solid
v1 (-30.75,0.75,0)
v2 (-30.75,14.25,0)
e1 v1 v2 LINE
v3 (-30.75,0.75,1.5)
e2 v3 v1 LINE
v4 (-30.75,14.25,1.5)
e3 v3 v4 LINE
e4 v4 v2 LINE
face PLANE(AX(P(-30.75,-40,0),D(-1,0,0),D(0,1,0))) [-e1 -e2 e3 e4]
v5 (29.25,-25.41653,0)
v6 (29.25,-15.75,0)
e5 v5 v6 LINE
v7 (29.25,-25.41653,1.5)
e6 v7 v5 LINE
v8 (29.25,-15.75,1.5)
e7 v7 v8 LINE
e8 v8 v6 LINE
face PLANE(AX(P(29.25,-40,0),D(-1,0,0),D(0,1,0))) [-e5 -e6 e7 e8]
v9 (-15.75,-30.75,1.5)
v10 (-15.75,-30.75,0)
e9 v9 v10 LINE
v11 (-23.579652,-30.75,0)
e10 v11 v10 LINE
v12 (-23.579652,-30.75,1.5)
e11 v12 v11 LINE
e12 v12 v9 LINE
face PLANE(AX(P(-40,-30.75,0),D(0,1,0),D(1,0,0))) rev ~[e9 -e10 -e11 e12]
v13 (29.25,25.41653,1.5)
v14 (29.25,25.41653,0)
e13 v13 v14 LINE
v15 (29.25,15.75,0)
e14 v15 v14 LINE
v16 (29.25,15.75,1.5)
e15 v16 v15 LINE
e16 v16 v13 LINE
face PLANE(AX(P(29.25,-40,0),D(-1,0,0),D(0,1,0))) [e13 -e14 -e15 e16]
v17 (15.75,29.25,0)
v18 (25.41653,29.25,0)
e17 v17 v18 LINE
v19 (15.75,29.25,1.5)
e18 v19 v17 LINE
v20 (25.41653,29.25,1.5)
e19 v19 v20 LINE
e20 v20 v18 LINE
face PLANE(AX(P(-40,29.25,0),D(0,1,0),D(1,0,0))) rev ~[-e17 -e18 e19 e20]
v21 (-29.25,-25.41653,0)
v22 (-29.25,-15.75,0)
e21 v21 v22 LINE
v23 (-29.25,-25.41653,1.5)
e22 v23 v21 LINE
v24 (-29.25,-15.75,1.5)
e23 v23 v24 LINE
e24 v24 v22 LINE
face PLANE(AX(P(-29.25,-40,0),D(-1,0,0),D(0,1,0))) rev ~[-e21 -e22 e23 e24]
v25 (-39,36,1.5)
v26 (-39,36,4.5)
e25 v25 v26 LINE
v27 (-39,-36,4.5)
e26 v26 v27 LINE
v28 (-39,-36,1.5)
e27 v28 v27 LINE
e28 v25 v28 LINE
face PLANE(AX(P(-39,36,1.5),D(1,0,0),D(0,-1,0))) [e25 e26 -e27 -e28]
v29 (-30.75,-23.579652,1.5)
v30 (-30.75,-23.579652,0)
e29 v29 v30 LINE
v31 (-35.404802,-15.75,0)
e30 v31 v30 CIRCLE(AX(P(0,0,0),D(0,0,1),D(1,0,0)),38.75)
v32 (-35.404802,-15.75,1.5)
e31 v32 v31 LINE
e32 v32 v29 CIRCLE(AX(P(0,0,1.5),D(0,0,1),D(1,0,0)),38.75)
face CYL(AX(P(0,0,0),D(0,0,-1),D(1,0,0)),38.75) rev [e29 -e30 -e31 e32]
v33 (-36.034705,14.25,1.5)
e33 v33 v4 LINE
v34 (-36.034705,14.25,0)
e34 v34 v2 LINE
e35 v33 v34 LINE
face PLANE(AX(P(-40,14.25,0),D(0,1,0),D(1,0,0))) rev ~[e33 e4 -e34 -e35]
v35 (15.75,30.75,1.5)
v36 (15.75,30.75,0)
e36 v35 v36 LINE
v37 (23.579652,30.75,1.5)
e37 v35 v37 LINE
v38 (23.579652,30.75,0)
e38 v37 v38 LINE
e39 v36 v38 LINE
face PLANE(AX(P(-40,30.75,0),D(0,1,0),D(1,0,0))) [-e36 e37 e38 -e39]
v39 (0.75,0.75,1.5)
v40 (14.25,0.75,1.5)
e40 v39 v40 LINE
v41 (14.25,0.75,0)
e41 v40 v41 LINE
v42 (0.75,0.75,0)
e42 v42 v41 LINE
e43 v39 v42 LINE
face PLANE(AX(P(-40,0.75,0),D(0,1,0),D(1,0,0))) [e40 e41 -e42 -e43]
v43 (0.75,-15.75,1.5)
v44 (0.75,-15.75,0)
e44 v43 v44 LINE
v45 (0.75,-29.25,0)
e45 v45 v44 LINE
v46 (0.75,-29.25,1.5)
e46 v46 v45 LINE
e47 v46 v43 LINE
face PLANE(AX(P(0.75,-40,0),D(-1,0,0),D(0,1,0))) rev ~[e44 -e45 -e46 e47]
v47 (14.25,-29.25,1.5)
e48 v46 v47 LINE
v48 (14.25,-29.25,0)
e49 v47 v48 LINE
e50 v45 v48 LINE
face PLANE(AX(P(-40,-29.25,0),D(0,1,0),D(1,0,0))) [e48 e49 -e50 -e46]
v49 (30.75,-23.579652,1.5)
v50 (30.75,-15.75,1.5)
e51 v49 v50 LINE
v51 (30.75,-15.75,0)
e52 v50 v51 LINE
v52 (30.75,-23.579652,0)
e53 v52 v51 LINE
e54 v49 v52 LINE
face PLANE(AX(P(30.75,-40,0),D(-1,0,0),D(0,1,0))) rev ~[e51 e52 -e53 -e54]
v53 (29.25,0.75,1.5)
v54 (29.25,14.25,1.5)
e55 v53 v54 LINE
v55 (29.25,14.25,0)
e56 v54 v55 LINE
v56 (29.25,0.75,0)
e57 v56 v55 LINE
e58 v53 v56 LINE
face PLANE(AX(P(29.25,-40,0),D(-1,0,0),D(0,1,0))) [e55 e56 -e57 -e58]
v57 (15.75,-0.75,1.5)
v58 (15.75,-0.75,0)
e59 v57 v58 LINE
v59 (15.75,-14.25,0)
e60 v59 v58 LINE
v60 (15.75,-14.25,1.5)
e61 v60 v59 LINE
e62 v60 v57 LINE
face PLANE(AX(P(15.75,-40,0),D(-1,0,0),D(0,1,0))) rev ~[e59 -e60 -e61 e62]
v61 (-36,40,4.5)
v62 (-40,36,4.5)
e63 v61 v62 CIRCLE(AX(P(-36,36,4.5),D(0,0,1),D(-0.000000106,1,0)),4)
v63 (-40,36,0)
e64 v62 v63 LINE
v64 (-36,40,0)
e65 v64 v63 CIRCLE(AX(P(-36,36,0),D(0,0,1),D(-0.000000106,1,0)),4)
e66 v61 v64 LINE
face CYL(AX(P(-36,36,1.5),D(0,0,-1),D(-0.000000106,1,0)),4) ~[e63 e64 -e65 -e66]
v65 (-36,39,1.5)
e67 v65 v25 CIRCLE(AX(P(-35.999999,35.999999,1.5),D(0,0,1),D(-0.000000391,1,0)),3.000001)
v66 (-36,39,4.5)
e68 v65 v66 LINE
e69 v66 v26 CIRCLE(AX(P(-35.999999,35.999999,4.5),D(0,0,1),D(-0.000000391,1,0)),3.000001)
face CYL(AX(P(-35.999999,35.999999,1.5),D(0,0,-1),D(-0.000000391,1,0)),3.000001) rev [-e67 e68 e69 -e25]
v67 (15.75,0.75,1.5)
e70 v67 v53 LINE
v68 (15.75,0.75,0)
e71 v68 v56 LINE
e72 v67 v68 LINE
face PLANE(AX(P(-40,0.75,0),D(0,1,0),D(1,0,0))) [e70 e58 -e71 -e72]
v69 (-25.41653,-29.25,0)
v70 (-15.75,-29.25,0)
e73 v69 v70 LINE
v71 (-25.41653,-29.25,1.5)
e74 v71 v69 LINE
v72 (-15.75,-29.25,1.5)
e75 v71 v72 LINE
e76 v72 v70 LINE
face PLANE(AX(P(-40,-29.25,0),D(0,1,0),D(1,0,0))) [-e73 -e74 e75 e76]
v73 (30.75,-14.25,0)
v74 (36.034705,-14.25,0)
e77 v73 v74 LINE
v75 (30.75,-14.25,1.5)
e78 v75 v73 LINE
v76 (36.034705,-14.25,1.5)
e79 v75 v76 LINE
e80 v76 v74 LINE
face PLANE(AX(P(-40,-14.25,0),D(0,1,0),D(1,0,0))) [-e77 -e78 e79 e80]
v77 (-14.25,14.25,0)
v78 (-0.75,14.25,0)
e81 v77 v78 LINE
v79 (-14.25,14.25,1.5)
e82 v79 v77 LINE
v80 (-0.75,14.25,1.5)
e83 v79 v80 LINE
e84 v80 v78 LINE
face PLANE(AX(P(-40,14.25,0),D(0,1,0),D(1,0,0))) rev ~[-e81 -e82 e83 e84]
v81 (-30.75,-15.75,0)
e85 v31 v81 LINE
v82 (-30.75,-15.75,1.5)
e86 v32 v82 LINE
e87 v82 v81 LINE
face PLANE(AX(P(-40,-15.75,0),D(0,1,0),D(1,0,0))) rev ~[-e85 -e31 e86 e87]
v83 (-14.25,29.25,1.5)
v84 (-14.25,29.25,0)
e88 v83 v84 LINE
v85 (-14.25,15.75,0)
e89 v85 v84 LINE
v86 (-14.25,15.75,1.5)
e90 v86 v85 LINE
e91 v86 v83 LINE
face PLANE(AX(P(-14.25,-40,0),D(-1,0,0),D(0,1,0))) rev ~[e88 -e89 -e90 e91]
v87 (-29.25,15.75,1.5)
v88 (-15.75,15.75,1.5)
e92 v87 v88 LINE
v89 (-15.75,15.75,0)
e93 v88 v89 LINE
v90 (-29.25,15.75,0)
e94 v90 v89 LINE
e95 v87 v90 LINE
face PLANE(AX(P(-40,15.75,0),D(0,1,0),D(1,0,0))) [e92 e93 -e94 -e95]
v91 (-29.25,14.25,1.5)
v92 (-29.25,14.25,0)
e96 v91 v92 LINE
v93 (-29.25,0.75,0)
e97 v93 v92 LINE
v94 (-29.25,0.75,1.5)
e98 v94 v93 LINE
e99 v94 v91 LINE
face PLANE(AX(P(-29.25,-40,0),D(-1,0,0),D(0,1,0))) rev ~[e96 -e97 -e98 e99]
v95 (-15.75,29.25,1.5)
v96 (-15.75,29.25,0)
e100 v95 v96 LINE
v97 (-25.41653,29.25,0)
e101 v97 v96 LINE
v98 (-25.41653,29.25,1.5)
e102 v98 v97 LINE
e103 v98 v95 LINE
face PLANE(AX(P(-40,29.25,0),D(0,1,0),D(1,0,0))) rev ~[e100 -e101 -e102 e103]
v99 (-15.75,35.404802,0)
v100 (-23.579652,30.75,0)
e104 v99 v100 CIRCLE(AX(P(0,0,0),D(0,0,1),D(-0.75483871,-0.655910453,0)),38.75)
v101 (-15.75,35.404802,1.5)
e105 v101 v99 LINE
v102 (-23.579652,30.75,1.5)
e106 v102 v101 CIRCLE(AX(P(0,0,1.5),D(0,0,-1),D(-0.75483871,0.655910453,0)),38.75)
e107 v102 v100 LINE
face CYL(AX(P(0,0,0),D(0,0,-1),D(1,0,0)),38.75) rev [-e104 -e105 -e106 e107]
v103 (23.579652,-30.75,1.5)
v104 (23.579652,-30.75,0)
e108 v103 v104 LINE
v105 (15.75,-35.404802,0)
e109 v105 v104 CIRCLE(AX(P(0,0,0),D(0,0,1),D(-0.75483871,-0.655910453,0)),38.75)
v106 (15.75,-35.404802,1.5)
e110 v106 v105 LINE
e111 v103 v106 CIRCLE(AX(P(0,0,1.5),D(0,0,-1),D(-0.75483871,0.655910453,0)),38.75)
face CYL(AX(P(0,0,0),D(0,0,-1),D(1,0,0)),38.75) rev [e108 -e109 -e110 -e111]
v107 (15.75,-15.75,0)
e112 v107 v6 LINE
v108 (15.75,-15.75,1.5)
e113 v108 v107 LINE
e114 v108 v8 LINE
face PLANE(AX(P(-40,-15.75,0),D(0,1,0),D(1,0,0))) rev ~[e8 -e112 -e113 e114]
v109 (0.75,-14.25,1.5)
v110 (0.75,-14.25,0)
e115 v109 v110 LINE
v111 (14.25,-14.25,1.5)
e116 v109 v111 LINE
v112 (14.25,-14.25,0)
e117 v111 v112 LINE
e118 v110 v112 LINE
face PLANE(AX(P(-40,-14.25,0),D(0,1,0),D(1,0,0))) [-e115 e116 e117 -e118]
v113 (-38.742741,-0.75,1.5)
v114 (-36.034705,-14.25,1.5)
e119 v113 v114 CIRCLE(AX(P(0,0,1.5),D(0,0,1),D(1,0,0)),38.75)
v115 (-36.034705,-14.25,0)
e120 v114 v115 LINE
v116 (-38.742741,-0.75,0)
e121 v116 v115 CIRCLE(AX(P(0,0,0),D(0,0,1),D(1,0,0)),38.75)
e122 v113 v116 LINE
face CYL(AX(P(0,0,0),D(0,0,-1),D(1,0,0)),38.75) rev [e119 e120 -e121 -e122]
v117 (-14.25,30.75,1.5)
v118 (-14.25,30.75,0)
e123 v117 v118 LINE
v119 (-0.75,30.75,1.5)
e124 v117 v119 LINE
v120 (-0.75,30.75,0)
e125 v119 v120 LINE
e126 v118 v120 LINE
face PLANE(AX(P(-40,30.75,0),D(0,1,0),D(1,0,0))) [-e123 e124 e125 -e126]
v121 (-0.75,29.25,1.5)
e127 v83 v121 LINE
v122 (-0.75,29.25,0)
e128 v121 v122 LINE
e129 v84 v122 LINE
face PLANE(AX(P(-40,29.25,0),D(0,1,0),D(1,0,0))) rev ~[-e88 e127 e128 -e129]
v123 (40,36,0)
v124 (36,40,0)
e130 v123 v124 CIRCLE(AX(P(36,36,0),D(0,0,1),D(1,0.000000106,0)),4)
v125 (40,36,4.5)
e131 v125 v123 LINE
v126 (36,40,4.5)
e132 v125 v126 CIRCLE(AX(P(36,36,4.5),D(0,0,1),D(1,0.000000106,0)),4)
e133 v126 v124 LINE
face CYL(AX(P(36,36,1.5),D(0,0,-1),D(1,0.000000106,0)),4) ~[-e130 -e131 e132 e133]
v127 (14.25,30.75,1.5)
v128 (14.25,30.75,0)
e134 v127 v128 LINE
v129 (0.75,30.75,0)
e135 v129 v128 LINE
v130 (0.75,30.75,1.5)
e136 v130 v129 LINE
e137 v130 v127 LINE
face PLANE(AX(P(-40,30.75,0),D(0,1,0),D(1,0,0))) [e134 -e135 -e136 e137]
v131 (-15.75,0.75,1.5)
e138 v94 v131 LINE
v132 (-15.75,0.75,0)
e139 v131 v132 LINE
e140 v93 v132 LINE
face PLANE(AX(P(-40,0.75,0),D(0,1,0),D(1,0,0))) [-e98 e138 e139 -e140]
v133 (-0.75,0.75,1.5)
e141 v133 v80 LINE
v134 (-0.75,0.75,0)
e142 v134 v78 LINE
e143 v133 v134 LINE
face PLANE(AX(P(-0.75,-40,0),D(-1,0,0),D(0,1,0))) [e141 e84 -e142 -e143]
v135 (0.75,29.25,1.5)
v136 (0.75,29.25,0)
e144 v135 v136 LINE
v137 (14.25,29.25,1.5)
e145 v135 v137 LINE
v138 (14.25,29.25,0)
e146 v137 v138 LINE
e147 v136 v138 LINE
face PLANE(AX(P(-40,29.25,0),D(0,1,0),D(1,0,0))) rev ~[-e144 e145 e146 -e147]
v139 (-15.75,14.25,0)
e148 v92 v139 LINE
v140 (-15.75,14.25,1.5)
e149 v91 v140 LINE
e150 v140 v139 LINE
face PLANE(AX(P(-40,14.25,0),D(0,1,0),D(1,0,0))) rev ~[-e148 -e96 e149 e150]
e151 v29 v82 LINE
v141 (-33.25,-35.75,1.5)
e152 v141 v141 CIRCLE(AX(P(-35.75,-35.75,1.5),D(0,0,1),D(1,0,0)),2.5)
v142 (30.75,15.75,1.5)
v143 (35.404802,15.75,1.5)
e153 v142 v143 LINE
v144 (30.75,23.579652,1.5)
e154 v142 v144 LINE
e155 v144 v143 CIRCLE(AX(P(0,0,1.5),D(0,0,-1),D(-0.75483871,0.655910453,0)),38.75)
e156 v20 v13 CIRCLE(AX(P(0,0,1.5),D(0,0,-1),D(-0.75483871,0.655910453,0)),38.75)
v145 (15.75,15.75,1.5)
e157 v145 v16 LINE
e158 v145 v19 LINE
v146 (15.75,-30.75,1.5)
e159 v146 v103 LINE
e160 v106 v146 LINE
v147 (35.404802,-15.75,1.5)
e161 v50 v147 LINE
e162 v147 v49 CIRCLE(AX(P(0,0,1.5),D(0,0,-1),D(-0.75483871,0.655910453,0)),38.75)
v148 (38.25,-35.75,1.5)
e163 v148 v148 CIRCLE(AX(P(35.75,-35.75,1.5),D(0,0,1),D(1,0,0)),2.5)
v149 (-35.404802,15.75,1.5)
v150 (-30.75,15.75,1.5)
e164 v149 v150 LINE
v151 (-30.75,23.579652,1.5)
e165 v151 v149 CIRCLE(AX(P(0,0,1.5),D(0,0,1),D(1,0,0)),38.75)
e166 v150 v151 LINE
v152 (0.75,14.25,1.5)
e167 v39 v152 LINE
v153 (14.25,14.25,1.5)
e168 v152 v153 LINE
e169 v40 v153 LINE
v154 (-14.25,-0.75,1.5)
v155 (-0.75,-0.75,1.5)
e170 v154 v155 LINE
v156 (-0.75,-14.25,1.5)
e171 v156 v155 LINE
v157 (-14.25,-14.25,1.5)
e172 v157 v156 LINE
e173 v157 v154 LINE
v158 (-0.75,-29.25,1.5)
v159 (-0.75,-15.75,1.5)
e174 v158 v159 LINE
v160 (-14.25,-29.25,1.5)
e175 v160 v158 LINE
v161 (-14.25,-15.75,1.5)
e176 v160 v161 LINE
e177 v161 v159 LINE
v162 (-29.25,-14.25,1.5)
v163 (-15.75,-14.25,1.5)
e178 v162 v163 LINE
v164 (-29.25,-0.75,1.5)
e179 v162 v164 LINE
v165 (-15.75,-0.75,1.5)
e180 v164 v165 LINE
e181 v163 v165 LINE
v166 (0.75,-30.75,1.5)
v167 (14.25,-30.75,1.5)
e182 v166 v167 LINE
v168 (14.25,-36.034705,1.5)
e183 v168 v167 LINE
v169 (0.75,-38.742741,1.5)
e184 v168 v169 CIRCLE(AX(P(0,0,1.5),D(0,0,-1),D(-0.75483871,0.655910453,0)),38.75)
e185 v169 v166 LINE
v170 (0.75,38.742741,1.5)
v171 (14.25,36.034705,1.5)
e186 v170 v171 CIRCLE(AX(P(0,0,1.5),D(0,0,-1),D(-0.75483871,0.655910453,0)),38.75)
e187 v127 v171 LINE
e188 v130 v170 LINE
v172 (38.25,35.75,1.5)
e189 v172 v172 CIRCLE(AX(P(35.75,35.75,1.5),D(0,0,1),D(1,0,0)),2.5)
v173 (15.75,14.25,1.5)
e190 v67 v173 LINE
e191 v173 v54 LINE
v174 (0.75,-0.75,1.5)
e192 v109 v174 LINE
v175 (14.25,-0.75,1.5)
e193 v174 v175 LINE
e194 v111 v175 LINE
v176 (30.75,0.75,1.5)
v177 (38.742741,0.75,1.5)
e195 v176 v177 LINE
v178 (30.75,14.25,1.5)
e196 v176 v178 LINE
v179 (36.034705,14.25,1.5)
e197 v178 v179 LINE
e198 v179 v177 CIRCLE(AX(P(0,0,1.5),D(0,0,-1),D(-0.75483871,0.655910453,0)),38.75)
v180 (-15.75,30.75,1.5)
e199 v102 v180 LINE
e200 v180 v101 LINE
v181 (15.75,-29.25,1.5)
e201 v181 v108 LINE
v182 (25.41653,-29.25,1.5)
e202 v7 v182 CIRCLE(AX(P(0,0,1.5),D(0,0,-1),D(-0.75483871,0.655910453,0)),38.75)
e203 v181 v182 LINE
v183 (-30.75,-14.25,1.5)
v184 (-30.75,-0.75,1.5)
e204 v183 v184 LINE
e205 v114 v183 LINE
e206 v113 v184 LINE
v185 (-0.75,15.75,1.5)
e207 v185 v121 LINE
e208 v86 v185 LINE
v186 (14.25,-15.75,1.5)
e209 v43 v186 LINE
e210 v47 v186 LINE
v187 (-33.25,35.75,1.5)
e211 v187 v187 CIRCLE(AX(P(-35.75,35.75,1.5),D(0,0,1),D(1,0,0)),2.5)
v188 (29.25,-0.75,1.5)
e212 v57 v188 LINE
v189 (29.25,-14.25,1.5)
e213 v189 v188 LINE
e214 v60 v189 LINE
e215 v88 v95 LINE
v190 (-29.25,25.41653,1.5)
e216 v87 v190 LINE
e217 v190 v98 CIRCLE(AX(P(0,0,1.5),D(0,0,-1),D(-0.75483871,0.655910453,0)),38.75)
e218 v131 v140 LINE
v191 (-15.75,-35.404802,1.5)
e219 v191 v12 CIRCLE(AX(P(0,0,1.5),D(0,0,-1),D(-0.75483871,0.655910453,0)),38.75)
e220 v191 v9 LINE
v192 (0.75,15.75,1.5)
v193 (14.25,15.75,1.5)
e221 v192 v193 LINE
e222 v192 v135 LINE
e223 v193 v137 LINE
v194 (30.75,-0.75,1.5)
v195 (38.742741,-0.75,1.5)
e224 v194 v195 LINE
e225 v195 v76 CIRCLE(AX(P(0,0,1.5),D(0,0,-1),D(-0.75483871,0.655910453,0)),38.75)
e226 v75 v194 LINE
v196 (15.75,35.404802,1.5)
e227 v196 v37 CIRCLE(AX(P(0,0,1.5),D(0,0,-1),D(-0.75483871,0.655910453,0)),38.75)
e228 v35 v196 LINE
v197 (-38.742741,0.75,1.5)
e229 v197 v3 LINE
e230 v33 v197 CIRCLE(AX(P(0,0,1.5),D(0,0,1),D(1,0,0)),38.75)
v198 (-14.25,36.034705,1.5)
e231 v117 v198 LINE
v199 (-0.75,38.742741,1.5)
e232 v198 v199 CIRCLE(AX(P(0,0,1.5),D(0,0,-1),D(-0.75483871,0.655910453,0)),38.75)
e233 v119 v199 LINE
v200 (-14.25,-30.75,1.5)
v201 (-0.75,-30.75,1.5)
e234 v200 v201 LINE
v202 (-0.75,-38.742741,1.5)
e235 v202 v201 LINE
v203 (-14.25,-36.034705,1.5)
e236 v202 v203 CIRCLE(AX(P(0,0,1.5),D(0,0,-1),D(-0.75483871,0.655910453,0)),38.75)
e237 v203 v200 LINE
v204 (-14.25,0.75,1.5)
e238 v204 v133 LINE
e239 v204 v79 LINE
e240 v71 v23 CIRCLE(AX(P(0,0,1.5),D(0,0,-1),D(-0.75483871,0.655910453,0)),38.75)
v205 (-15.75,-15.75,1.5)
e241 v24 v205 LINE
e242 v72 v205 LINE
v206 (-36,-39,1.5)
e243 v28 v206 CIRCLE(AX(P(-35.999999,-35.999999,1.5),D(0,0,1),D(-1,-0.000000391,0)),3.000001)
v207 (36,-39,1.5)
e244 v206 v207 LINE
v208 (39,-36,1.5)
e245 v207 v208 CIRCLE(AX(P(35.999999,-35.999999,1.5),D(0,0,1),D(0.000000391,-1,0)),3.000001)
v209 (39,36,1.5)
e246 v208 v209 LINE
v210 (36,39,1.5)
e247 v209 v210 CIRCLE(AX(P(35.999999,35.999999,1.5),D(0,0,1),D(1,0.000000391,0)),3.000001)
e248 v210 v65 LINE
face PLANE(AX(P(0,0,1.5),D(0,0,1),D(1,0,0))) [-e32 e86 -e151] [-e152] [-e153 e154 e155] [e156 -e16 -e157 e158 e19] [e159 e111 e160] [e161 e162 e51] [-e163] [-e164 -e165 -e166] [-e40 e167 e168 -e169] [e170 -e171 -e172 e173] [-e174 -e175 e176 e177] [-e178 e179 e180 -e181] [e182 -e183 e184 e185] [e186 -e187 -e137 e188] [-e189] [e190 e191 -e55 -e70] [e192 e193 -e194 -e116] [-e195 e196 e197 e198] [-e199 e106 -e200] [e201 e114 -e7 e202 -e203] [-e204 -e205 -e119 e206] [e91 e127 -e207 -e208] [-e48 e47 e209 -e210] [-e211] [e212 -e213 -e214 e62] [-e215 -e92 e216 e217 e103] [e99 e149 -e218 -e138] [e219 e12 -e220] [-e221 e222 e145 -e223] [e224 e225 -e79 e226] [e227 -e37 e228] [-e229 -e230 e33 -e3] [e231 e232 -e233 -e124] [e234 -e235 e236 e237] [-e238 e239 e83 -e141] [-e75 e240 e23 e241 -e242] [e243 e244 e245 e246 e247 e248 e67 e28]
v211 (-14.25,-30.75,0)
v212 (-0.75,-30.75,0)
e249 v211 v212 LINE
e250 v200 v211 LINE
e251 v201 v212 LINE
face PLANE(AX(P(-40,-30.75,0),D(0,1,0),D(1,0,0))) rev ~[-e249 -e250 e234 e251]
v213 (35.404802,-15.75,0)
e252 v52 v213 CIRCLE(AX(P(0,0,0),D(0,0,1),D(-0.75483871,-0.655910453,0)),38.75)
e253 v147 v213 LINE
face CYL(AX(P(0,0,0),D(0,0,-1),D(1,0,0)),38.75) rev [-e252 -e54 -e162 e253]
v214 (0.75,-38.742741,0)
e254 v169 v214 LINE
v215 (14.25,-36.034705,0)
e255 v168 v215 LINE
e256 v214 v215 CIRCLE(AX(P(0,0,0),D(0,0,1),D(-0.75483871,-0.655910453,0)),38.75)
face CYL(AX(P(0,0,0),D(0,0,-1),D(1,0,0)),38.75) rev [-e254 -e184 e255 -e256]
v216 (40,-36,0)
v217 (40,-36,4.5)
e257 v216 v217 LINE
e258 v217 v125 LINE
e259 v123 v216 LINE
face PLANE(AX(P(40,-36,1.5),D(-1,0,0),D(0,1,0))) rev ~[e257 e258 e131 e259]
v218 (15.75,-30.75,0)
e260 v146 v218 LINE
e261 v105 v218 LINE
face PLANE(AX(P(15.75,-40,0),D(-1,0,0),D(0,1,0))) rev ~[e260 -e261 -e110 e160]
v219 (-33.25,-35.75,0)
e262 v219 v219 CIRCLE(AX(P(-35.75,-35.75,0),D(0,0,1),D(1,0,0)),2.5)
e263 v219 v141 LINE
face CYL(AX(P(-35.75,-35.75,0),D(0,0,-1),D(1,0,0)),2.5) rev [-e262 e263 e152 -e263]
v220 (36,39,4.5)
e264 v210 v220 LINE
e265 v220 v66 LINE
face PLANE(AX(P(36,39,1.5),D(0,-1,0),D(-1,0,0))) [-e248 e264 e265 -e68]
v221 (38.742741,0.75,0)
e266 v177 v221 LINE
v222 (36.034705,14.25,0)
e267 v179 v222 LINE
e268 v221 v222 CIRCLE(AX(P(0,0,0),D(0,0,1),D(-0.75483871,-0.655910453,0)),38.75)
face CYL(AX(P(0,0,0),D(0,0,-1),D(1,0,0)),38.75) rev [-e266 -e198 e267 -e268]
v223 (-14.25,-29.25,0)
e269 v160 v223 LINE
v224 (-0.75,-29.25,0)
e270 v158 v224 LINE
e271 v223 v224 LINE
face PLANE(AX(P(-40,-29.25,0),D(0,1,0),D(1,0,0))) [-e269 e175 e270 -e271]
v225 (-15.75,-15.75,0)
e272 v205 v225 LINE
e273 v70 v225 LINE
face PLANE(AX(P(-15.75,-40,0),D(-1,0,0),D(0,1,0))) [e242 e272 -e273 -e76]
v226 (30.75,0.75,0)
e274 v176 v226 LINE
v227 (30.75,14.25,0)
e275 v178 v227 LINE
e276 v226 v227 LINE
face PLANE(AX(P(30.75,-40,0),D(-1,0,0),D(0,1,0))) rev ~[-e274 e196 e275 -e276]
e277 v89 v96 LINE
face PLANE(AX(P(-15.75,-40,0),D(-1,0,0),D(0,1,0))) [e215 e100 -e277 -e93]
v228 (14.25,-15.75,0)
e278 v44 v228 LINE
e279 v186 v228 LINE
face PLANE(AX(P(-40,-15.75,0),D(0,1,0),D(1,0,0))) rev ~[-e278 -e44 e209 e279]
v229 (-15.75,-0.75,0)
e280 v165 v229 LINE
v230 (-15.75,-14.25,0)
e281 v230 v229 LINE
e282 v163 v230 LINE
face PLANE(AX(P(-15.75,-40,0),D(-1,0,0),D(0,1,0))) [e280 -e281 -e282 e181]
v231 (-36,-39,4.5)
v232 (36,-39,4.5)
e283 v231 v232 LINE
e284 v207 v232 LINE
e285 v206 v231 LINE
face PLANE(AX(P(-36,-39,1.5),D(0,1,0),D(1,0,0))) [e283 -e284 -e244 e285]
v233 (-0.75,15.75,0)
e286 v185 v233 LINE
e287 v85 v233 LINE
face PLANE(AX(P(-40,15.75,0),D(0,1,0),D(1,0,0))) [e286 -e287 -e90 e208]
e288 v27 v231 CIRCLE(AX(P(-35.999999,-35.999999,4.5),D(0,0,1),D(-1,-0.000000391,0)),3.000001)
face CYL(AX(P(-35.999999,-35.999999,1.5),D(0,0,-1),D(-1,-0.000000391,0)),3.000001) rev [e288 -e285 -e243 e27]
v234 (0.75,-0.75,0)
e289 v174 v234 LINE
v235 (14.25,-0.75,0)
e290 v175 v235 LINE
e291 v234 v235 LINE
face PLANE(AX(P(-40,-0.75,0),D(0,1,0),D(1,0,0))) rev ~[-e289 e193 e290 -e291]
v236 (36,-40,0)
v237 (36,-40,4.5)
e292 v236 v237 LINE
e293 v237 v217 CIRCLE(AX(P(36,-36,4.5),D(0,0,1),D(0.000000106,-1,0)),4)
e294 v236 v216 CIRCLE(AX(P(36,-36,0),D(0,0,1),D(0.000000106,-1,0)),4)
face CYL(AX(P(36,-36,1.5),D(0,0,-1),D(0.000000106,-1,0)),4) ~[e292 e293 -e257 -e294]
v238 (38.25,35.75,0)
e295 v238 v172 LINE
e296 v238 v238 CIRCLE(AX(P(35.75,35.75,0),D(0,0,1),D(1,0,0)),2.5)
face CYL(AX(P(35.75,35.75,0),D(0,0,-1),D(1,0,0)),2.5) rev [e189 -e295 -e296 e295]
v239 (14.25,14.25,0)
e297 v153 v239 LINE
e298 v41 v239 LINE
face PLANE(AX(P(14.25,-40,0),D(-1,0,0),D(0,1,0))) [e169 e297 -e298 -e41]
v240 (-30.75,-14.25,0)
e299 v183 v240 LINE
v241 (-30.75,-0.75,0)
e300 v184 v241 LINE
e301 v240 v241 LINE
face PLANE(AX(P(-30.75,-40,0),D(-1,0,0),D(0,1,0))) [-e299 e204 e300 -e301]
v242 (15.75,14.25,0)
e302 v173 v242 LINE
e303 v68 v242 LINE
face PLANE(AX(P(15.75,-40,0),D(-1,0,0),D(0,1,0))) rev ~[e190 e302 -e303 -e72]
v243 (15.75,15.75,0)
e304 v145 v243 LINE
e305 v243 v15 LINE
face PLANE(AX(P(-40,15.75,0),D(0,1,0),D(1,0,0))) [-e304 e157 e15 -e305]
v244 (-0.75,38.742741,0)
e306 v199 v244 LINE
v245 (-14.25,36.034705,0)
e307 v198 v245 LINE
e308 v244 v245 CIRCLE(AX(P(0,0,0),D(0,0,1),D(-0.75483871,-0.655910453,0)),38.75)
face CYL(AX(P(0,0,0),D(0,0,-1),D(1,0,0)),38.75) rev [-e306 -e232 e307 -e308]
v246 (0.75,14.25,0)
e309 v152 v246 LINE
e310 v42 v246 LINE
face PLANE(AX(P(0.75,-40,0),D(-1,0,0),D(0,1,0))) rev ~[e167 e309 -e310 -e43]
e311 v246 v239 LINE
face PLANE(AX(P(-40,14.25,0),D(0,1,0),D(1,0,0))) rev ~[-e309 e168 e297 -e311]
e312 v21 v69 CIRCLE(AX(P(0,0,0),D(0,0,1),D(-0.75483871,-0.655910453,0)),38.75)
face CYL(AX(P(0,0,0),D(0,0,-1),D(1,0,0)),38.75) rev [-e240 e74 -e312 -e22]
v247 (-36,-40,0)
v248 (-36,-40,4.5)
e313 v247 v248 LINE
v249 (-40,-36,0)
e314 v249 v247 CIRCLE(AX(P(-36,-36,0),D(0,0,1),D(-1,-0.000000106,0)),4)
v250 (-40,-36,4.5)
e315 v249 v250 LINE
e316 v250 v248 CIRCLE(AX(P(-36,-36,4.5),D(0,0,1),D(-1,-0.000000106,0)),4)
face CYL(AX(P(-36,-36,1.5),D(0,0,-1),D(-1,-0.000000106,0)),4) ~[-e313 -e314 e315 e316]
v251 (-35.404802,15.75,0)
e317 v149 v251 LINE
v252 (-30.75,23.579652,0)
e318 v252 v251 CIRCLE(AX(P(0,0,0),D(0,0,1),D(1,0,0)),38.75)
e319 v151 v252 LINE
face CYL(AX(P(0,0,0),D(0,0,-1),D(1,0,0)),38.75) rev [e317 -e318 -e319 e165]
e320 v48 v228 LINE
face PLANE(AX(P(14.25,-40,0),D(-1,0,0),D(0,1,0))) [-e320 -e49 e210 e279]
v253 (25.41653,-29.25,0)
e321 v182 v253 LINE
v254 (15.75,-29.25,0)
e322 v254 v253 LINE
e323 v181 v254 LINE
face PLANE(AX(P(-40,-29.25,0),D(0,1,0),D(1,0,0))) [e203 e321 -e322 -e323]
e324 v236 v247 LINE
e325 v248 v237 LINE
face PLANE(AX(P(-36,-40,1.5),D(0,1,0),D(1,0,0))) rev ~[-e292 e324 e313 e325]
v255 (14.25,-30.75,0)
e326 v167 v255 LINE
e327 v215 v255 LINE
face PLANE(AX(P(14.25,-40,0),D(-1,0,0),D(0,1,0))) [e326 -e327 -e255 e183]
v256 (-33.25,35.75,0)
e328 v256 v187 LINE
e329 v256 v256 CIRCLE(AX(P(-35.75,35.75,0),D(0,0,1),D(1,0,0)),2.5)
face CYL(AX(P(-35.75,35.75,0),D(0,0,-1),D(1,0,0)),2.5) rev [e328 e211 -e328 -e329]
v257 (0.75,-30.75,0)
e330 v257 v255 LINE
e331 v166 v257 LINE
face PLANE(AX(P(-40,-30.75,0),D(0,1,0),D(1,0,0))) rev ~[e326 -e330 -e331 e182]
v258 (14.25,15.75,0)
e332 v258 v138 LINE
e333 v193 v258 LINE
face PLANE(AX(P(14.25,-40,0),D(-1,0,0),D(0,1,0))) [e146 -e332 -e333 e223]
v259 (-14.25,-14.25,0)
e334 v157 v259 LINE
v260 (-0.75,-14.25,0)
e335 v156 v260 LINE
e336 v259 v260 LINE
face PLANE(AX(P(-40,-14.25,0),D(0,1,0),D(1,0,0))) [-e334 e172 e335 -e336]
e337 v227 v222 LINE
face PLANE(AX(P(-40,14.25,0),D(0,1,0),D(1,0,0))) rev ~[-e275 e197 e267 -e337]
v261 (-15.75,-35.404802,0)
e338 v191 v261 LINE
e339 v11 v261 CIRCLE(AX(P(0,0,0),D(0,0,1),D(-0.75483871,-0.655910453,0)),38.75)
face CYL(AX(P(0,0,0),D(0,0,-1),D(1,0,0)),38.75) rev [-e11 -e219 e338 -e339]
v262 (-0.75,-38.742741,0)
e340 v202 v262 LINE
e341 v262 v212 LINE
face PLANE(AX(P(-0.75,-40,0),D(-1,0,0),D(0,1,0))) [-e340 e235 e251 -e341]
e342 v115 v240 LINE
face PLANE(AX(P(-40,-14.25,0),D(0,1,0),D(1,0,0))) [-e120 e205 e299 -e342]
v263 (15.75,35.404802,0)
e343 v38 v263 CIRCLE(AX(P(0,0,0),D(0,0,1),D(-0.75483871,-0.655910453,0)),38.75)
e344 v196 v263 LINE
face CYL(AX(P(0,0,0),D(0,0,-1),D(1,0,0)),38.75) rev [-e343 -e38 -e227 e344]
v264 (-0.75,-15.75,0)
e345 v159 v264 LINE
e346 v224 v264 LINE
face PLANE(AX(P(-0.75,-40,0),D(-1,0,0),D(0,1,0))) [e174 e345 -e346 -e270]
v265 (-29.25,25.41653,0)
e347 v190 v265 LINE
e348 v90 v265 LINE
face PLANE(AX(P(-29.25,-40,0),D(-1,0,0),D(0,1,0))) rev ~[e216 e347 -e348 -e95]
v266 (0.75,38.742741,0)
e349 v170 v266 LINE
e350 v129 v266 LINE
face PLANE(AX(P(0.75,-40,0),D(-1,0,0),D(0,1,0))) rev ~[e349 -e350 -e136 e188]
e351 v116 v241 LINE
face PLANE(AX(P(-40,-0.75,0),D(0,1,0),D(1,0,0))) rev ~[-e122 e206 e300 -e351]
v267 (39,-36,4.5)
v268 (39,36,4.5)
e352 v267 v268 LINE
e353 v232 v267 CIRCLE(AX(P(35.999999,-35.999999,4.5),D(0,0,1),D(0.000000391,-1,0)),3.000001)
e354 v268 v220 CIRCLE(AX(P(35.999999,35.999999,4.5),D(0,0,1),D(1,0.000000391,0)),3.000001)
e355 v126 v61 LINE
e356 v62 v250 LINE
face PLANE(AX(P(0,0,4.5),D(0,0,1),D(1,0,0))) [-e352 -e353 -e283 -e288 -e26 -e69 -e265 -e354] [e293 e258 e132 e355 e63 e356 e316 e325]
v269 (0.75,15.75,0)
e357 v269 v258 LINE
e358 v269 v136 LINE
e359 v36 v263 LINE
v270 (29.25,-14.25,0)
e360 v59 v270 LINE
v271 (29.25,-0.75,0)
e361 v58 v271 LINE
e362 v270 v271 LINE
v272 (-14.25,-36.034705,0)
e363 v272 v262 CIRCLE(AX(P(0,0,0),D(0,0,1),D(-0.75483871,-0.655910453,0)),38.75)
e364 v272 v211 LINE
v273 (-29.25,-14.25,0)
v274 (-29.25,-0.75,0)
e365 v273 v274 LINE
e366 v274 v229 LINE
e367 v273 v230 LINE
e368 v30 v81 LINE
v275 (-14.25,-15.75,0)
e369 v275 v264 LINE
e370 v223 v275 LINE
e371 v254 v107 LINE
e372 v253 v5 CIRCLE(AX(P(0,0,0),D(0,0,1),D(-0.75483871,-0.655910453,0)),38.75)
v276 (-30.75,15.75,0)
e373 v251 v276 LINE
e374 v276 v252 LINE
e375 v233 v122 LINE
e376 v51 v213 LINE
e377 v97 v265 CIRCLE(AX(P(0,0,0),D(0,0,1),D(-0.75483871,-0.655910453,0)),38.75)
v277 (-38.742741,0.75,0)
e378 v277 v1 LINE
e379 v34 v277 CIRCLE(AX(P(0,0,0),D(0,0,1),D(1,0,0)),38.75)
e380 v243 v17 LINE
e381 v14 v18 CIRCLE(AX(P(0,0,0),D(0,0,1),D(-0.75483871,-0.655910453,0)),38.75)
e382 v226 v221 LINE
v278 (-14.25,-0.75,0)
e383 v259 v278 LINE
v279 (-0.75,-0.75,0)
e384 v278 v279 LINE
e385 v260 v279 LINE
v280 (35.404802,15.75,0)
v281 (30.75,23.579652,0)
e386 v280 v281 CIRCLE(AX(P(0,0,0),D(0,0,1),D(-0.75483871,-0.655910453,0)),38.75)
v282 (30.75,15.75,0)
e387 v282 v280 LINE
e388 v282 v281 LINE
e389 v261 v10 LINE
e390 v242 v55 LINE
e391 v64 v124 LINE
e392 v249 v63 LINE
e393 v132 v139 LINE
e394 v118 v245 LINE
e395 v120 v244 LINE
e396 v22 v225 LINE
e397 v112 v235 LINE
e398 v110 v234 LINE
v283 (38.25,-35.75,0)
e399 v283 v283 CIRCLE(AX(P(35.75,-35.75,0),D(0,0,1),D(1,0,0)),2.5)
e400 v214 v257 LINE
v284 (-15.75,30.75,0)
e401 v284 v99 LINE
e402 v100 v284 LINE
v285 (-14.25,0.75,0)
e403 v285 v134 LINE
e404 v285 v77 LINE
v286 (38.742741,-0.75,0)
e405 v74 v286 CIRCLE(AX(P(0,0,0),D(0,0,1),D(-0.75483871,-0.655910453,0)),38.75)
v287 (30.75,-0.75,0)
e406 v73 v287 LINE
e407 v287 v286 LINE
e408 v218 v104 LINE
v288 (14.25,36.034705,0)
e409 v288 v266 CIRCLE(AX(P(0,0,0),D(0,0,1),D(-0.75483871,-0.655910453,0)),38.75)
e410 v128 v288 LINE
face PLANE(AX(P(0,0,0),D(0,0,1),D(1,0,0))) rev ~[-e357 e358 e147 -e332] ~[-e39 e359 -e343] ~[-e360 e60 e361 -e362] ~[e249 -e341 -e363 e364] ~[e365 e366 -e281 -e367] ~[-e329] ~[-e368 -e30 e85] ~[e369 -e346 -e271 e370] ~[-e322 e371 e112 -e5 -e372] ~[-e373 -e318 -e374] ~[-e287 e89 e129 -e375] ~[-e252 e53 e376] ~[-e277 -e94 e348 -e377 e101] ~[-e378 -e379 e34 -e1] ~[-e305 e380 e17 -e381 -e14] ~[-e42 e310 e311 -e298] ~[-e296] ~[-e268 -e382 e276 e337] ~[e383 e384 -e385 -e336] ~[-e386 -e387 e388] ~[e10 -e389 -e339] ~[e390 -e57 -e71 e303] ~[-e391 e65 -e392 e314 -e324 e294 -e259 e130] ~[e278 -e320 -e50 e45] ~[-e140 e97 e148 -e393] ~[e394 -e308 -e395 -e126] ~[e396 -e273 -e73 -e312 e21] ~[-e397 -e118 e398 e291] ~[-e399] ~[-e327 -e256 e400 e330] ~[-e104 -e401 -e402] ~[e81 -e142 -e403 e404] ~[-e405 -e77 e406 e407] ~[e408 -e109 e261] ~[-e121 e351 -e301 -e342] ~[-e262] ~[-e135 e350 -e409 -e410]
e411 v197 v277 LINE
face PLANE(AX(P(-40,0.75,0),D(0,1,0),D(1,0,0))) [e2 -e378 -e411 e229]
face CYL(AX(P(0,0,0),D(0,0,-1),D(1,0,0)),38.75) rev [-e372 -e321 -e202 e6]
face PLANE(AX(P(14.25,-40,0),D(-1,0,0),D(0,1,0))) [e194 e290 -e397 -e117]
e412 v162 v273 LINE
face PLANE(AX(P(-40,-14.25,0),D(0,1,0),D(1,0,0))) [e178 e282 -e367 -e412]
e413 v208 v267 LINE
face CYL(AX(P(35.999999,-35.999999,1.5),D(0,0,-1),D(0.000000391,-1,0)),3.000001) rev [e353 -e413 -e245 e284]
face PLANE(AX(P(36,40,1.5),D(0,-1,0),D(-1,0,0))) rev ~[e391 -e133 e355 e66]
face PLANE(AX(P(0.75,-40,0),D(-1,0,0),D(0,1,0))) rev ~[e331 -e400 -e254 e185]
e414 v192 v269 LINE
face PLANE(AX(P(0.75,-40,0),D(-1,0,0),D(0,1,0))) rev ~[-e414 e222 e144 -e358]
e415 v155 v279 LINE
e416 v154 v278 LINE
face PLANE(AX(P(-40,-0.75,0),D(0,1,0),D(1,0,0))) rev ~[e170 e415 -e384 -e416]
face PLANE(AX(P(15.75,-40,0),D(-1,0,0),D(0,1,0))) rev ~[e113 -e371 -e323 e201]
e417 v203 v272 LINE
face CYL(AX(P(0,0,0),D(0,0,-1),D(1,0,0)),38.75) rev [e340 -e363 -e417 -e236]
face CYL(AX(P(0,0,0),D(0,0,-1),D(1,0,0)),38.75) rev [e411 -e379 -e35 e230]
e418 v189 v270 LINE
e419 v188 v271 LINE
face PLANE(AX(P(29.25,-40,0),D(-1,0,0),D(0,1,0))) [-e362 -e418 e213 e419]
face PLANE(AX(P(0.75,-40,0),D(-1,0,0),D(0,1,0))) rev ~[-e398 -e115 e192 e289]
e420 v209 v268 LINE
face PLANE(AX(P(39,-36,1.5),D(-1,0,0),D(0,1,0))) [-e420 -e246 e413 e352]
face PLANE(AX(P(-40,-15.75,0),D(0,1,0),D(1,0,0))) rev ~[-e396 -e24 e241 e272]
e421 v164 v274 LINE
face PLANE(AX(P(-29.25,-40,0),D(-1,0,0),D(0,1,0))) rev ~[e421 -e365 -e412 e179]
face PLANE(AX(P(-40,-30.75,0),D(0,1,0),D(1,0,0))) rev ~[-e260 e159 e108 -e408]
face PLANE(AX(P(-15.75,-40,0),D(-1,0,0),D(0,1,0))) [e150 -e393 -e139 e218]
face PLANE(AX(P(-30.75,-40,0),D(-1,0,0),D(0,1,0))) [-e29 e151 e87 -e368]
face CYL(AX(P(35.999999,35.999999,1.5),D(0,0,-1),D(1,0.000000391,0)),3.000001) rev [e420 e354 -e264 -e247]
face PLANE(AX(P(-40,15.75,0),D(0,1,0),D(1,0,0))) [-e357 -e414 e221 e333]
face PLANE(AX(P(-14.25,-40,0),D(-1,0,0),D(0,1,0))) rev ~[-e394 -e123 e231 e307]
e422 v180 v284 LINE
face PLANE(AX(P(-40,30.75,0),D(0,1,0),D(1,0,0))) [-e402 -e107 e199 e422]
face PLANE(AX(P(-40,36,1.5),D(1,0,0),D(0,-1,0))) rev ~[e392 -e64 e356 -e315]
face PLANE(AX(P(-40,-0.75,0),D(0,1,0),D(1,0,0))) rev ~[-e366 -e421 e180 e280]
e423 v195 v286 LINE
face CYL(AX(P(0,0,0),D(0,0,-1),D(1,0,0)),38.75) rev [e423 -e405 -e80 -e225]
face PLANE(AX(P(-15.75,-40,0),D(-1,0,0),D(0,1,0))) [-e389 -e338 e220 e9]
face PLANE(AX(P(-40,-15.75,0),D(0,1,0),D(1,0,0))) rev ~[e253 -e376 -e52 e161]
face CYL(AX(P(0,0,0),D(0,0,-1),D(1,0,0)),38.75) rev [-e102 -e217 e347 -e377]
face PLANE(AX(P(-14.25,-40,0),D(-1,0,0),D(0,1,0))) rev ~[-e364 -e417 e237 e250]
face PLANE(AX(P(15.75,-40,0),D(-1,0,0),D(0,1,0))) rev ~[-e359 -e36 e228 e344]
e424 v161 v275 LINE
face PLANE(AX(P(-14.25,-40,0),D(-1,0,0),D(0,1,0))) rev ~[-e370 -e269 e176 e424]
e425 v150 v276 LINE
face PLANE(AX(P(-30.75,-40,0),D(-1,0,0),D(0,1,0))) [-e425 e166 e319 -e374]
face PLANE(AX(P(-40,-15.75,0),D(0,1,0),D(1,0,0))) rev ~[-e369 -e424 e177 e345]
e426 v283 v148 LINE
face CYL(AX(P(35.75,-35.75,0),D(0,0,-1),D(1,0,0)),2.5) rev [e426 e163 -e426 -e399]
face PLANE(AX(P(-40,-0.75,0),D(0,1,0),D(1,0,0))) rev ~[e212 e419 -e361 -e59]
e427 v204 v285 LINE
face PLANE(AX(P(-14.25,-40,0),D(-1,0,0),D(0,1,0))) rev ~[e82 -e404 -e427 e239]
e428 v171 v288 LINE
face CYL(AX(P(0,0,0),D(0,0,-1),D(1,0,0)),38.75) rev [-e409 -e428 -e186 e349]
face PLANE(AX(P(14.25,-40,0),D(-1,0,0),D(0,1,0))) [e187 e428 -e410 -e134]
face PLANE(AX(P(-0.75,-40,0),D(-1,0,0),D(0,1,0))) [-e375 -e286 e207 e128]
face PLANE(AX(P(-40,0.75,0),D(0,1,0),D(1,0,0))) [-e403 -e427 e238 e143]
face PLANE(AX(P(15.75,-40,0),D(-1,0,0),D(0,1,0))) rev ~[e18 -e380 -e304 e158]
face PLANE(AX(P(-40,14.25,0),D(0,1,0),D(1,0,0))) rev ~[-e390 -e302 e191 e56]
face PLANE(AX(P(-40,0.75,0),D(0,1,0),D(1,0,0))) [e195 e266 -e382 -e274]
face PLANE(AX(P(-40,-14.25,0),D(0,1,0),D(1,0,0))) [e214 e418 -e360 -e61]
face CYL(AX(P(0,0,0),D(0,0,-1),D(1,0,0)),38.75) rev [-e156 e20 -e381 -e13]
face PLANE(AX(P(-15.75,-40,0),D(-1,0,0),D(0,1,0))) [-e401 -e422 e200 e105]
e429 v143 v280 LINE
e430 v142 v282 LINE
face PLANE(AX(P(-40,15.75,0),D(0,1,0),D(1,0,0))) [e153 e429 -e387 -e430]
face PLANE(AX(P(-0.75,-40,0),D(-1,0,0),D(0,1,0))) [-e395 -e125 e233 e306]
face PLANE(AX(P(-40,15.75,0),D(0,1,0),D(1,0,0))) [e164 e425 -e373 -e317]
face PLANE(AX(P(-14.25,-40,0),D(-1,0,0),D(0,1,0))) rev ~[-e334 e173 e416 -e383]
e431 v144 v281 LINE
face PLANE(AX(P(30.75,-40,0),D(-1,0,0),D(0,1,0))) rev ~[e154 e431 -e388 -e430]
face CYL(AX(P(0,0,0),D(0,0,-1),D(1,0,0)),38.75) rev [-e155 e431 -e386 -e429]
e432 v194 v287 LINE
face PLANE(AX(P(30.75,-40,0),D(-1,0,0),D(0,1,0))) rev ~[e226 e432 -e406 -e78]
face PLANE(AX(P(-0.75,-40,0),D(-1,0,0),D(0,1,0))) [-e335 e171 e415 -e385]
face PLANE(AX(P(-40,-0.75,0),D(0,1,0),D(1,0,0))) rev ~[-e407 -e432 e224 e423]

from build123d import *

# Parameters (mm, degrees)
SKETCH006_R            = 2.5
SKETCH006_R_2          = 38.75
PAD004_DEPTH           = 1.5
SKETCH007_W            = 1.5
SKETCH007_H            = 80
PAD005_DEPTH           = 1.5
LINEARPATTERN002_COUNT = 5
LINEARPATTERN002_PITCH = 15
SKETCH008_W            = 80
SKETCH008_H            = 1.5
PAD006_DEPTH           = 1.5
LINEARPATTERN003_COUNT = 5
LINEARPATTERN003_PITCH = 15
PAD007_DEPTH           = 3


with BuildPart() as part:
    # Sketch006 → Pad004 (new body)
    with BuildSketch(Plane.XY):
        with BuildLine():
            Line((40, -36), (40, 36))
            ThreePointArc((40, 36), (38.828427, 38.828427), (36, 40))
            Line((36, 40), (-36, 40))
            ThreePointArc((-36, 40), (-38.828427, 38.828427), (-40, 36))
            Line((-40, 36), (-40, -36))
            ThreePointArc((-40, -36), (-38.828427, -38.828427), (-36, -40))
            Line((-36, -40), (36, -40))
            ThreePointArc((36, -40), (38.828427, -38.828427), (40, -36))
        make_face()
        with Locations((-35.75, 35.75)):
            Circle(SKETCH006_R, mode=Mode.SUBTRACT)
        with Locations((35.75, 35.75)):
            Circle(SKETCH006_R, mode=Mode.SUBTRACT)
        with Locations((35.75, -35.75)):
            Circle(SKETCH006_R, mode=Mode.SUBTRACT)
        with Locations((-35.75, -35.75)):
            Circle(SKETCH006_R, mode=Mode.SUBTRACT)
        Circle(SKETCH006_R_2, mode=Mode.SUBTRACT)
    extrude(amount=PAD004_DEPTH)

    # Sketch007 → Pad005 (join)
    with BuildSketch(Plane.XY):
        with Locations((-30, 0)):
            Rectangle(SKETCH007_W, SKETCH007_H)
    pad005 = extrude(amount=PAD005_DEPTH)

    # LinearPattern002: Pad005 ×5
    with Locations(*[(i * LINEARPATTERN002_PITCH, 0, 0) for i in range(1, LINEARPATTERN002_COUNT)]):
        add(pad005)

    # Sketch008 → Pad006 (join)
    with BuildSketch(Plane.XY):
        with Locations((0, -30)):
            Rectangle(SKETCH008_W, SKETCH008_H)
    pad006 = extrude(amount=PAD006_DEPTH)

    # LinearPattern003: Pad006 ×5
    with Locations(*[(0, i * LINEARPATTERN003_PITCH, 0) for i in range(1, LINEARPATTERN003_COUNT)]):
        add(pad006)

    # Sketch009 (on Face137 of LinearPattern003) → Pad007 (join)
    with BuildSketch(Plane.XY.offset(1.5)):
        with BuildLine():
            Line((-40, 36), (-40, -36))
            ThreePointArc((-40, -36), (-38.828427, -38.828427), (-36, -40))
            Line((-36, -40), (36, -40))
            ThreePointArc((36, -40), (38.828427, -38.828427), (40, -36))
            Line((40, -36), (40, 36))
            ThreePointArc((40, 36), (38.828427, 38.828427), (36, 40))
            Line((36, 40), (-36, 40))
            ThreePointArc((-36, 40), (-38.828427, 38.828427), (-40, 36))
        make_face()
        with BuildLine():
            Line((-39, 36), (-39, -36))
            ThreePointArc((-39, -36), (-38.12132, -38.12132), (-36, -39))
            Line((-36, -39), (36, -39))
            ThreePointArc((36, -39), (38.12132, -38.12132), (39, -36))
            Line((39, -36), (39, 36))
            ThreePointArc((39, 36), (38.12132, 38.12132), (36, 39))
            Line((36, 39), (-36, 39))
            ThreePointArc((-36, 39), (-38.12132, 38.12132), (-39, 36))
        make_face(mode=Mode.SUBTRACT)
    extrude(amount=PAD007_DEPTH)


solid = part.part
